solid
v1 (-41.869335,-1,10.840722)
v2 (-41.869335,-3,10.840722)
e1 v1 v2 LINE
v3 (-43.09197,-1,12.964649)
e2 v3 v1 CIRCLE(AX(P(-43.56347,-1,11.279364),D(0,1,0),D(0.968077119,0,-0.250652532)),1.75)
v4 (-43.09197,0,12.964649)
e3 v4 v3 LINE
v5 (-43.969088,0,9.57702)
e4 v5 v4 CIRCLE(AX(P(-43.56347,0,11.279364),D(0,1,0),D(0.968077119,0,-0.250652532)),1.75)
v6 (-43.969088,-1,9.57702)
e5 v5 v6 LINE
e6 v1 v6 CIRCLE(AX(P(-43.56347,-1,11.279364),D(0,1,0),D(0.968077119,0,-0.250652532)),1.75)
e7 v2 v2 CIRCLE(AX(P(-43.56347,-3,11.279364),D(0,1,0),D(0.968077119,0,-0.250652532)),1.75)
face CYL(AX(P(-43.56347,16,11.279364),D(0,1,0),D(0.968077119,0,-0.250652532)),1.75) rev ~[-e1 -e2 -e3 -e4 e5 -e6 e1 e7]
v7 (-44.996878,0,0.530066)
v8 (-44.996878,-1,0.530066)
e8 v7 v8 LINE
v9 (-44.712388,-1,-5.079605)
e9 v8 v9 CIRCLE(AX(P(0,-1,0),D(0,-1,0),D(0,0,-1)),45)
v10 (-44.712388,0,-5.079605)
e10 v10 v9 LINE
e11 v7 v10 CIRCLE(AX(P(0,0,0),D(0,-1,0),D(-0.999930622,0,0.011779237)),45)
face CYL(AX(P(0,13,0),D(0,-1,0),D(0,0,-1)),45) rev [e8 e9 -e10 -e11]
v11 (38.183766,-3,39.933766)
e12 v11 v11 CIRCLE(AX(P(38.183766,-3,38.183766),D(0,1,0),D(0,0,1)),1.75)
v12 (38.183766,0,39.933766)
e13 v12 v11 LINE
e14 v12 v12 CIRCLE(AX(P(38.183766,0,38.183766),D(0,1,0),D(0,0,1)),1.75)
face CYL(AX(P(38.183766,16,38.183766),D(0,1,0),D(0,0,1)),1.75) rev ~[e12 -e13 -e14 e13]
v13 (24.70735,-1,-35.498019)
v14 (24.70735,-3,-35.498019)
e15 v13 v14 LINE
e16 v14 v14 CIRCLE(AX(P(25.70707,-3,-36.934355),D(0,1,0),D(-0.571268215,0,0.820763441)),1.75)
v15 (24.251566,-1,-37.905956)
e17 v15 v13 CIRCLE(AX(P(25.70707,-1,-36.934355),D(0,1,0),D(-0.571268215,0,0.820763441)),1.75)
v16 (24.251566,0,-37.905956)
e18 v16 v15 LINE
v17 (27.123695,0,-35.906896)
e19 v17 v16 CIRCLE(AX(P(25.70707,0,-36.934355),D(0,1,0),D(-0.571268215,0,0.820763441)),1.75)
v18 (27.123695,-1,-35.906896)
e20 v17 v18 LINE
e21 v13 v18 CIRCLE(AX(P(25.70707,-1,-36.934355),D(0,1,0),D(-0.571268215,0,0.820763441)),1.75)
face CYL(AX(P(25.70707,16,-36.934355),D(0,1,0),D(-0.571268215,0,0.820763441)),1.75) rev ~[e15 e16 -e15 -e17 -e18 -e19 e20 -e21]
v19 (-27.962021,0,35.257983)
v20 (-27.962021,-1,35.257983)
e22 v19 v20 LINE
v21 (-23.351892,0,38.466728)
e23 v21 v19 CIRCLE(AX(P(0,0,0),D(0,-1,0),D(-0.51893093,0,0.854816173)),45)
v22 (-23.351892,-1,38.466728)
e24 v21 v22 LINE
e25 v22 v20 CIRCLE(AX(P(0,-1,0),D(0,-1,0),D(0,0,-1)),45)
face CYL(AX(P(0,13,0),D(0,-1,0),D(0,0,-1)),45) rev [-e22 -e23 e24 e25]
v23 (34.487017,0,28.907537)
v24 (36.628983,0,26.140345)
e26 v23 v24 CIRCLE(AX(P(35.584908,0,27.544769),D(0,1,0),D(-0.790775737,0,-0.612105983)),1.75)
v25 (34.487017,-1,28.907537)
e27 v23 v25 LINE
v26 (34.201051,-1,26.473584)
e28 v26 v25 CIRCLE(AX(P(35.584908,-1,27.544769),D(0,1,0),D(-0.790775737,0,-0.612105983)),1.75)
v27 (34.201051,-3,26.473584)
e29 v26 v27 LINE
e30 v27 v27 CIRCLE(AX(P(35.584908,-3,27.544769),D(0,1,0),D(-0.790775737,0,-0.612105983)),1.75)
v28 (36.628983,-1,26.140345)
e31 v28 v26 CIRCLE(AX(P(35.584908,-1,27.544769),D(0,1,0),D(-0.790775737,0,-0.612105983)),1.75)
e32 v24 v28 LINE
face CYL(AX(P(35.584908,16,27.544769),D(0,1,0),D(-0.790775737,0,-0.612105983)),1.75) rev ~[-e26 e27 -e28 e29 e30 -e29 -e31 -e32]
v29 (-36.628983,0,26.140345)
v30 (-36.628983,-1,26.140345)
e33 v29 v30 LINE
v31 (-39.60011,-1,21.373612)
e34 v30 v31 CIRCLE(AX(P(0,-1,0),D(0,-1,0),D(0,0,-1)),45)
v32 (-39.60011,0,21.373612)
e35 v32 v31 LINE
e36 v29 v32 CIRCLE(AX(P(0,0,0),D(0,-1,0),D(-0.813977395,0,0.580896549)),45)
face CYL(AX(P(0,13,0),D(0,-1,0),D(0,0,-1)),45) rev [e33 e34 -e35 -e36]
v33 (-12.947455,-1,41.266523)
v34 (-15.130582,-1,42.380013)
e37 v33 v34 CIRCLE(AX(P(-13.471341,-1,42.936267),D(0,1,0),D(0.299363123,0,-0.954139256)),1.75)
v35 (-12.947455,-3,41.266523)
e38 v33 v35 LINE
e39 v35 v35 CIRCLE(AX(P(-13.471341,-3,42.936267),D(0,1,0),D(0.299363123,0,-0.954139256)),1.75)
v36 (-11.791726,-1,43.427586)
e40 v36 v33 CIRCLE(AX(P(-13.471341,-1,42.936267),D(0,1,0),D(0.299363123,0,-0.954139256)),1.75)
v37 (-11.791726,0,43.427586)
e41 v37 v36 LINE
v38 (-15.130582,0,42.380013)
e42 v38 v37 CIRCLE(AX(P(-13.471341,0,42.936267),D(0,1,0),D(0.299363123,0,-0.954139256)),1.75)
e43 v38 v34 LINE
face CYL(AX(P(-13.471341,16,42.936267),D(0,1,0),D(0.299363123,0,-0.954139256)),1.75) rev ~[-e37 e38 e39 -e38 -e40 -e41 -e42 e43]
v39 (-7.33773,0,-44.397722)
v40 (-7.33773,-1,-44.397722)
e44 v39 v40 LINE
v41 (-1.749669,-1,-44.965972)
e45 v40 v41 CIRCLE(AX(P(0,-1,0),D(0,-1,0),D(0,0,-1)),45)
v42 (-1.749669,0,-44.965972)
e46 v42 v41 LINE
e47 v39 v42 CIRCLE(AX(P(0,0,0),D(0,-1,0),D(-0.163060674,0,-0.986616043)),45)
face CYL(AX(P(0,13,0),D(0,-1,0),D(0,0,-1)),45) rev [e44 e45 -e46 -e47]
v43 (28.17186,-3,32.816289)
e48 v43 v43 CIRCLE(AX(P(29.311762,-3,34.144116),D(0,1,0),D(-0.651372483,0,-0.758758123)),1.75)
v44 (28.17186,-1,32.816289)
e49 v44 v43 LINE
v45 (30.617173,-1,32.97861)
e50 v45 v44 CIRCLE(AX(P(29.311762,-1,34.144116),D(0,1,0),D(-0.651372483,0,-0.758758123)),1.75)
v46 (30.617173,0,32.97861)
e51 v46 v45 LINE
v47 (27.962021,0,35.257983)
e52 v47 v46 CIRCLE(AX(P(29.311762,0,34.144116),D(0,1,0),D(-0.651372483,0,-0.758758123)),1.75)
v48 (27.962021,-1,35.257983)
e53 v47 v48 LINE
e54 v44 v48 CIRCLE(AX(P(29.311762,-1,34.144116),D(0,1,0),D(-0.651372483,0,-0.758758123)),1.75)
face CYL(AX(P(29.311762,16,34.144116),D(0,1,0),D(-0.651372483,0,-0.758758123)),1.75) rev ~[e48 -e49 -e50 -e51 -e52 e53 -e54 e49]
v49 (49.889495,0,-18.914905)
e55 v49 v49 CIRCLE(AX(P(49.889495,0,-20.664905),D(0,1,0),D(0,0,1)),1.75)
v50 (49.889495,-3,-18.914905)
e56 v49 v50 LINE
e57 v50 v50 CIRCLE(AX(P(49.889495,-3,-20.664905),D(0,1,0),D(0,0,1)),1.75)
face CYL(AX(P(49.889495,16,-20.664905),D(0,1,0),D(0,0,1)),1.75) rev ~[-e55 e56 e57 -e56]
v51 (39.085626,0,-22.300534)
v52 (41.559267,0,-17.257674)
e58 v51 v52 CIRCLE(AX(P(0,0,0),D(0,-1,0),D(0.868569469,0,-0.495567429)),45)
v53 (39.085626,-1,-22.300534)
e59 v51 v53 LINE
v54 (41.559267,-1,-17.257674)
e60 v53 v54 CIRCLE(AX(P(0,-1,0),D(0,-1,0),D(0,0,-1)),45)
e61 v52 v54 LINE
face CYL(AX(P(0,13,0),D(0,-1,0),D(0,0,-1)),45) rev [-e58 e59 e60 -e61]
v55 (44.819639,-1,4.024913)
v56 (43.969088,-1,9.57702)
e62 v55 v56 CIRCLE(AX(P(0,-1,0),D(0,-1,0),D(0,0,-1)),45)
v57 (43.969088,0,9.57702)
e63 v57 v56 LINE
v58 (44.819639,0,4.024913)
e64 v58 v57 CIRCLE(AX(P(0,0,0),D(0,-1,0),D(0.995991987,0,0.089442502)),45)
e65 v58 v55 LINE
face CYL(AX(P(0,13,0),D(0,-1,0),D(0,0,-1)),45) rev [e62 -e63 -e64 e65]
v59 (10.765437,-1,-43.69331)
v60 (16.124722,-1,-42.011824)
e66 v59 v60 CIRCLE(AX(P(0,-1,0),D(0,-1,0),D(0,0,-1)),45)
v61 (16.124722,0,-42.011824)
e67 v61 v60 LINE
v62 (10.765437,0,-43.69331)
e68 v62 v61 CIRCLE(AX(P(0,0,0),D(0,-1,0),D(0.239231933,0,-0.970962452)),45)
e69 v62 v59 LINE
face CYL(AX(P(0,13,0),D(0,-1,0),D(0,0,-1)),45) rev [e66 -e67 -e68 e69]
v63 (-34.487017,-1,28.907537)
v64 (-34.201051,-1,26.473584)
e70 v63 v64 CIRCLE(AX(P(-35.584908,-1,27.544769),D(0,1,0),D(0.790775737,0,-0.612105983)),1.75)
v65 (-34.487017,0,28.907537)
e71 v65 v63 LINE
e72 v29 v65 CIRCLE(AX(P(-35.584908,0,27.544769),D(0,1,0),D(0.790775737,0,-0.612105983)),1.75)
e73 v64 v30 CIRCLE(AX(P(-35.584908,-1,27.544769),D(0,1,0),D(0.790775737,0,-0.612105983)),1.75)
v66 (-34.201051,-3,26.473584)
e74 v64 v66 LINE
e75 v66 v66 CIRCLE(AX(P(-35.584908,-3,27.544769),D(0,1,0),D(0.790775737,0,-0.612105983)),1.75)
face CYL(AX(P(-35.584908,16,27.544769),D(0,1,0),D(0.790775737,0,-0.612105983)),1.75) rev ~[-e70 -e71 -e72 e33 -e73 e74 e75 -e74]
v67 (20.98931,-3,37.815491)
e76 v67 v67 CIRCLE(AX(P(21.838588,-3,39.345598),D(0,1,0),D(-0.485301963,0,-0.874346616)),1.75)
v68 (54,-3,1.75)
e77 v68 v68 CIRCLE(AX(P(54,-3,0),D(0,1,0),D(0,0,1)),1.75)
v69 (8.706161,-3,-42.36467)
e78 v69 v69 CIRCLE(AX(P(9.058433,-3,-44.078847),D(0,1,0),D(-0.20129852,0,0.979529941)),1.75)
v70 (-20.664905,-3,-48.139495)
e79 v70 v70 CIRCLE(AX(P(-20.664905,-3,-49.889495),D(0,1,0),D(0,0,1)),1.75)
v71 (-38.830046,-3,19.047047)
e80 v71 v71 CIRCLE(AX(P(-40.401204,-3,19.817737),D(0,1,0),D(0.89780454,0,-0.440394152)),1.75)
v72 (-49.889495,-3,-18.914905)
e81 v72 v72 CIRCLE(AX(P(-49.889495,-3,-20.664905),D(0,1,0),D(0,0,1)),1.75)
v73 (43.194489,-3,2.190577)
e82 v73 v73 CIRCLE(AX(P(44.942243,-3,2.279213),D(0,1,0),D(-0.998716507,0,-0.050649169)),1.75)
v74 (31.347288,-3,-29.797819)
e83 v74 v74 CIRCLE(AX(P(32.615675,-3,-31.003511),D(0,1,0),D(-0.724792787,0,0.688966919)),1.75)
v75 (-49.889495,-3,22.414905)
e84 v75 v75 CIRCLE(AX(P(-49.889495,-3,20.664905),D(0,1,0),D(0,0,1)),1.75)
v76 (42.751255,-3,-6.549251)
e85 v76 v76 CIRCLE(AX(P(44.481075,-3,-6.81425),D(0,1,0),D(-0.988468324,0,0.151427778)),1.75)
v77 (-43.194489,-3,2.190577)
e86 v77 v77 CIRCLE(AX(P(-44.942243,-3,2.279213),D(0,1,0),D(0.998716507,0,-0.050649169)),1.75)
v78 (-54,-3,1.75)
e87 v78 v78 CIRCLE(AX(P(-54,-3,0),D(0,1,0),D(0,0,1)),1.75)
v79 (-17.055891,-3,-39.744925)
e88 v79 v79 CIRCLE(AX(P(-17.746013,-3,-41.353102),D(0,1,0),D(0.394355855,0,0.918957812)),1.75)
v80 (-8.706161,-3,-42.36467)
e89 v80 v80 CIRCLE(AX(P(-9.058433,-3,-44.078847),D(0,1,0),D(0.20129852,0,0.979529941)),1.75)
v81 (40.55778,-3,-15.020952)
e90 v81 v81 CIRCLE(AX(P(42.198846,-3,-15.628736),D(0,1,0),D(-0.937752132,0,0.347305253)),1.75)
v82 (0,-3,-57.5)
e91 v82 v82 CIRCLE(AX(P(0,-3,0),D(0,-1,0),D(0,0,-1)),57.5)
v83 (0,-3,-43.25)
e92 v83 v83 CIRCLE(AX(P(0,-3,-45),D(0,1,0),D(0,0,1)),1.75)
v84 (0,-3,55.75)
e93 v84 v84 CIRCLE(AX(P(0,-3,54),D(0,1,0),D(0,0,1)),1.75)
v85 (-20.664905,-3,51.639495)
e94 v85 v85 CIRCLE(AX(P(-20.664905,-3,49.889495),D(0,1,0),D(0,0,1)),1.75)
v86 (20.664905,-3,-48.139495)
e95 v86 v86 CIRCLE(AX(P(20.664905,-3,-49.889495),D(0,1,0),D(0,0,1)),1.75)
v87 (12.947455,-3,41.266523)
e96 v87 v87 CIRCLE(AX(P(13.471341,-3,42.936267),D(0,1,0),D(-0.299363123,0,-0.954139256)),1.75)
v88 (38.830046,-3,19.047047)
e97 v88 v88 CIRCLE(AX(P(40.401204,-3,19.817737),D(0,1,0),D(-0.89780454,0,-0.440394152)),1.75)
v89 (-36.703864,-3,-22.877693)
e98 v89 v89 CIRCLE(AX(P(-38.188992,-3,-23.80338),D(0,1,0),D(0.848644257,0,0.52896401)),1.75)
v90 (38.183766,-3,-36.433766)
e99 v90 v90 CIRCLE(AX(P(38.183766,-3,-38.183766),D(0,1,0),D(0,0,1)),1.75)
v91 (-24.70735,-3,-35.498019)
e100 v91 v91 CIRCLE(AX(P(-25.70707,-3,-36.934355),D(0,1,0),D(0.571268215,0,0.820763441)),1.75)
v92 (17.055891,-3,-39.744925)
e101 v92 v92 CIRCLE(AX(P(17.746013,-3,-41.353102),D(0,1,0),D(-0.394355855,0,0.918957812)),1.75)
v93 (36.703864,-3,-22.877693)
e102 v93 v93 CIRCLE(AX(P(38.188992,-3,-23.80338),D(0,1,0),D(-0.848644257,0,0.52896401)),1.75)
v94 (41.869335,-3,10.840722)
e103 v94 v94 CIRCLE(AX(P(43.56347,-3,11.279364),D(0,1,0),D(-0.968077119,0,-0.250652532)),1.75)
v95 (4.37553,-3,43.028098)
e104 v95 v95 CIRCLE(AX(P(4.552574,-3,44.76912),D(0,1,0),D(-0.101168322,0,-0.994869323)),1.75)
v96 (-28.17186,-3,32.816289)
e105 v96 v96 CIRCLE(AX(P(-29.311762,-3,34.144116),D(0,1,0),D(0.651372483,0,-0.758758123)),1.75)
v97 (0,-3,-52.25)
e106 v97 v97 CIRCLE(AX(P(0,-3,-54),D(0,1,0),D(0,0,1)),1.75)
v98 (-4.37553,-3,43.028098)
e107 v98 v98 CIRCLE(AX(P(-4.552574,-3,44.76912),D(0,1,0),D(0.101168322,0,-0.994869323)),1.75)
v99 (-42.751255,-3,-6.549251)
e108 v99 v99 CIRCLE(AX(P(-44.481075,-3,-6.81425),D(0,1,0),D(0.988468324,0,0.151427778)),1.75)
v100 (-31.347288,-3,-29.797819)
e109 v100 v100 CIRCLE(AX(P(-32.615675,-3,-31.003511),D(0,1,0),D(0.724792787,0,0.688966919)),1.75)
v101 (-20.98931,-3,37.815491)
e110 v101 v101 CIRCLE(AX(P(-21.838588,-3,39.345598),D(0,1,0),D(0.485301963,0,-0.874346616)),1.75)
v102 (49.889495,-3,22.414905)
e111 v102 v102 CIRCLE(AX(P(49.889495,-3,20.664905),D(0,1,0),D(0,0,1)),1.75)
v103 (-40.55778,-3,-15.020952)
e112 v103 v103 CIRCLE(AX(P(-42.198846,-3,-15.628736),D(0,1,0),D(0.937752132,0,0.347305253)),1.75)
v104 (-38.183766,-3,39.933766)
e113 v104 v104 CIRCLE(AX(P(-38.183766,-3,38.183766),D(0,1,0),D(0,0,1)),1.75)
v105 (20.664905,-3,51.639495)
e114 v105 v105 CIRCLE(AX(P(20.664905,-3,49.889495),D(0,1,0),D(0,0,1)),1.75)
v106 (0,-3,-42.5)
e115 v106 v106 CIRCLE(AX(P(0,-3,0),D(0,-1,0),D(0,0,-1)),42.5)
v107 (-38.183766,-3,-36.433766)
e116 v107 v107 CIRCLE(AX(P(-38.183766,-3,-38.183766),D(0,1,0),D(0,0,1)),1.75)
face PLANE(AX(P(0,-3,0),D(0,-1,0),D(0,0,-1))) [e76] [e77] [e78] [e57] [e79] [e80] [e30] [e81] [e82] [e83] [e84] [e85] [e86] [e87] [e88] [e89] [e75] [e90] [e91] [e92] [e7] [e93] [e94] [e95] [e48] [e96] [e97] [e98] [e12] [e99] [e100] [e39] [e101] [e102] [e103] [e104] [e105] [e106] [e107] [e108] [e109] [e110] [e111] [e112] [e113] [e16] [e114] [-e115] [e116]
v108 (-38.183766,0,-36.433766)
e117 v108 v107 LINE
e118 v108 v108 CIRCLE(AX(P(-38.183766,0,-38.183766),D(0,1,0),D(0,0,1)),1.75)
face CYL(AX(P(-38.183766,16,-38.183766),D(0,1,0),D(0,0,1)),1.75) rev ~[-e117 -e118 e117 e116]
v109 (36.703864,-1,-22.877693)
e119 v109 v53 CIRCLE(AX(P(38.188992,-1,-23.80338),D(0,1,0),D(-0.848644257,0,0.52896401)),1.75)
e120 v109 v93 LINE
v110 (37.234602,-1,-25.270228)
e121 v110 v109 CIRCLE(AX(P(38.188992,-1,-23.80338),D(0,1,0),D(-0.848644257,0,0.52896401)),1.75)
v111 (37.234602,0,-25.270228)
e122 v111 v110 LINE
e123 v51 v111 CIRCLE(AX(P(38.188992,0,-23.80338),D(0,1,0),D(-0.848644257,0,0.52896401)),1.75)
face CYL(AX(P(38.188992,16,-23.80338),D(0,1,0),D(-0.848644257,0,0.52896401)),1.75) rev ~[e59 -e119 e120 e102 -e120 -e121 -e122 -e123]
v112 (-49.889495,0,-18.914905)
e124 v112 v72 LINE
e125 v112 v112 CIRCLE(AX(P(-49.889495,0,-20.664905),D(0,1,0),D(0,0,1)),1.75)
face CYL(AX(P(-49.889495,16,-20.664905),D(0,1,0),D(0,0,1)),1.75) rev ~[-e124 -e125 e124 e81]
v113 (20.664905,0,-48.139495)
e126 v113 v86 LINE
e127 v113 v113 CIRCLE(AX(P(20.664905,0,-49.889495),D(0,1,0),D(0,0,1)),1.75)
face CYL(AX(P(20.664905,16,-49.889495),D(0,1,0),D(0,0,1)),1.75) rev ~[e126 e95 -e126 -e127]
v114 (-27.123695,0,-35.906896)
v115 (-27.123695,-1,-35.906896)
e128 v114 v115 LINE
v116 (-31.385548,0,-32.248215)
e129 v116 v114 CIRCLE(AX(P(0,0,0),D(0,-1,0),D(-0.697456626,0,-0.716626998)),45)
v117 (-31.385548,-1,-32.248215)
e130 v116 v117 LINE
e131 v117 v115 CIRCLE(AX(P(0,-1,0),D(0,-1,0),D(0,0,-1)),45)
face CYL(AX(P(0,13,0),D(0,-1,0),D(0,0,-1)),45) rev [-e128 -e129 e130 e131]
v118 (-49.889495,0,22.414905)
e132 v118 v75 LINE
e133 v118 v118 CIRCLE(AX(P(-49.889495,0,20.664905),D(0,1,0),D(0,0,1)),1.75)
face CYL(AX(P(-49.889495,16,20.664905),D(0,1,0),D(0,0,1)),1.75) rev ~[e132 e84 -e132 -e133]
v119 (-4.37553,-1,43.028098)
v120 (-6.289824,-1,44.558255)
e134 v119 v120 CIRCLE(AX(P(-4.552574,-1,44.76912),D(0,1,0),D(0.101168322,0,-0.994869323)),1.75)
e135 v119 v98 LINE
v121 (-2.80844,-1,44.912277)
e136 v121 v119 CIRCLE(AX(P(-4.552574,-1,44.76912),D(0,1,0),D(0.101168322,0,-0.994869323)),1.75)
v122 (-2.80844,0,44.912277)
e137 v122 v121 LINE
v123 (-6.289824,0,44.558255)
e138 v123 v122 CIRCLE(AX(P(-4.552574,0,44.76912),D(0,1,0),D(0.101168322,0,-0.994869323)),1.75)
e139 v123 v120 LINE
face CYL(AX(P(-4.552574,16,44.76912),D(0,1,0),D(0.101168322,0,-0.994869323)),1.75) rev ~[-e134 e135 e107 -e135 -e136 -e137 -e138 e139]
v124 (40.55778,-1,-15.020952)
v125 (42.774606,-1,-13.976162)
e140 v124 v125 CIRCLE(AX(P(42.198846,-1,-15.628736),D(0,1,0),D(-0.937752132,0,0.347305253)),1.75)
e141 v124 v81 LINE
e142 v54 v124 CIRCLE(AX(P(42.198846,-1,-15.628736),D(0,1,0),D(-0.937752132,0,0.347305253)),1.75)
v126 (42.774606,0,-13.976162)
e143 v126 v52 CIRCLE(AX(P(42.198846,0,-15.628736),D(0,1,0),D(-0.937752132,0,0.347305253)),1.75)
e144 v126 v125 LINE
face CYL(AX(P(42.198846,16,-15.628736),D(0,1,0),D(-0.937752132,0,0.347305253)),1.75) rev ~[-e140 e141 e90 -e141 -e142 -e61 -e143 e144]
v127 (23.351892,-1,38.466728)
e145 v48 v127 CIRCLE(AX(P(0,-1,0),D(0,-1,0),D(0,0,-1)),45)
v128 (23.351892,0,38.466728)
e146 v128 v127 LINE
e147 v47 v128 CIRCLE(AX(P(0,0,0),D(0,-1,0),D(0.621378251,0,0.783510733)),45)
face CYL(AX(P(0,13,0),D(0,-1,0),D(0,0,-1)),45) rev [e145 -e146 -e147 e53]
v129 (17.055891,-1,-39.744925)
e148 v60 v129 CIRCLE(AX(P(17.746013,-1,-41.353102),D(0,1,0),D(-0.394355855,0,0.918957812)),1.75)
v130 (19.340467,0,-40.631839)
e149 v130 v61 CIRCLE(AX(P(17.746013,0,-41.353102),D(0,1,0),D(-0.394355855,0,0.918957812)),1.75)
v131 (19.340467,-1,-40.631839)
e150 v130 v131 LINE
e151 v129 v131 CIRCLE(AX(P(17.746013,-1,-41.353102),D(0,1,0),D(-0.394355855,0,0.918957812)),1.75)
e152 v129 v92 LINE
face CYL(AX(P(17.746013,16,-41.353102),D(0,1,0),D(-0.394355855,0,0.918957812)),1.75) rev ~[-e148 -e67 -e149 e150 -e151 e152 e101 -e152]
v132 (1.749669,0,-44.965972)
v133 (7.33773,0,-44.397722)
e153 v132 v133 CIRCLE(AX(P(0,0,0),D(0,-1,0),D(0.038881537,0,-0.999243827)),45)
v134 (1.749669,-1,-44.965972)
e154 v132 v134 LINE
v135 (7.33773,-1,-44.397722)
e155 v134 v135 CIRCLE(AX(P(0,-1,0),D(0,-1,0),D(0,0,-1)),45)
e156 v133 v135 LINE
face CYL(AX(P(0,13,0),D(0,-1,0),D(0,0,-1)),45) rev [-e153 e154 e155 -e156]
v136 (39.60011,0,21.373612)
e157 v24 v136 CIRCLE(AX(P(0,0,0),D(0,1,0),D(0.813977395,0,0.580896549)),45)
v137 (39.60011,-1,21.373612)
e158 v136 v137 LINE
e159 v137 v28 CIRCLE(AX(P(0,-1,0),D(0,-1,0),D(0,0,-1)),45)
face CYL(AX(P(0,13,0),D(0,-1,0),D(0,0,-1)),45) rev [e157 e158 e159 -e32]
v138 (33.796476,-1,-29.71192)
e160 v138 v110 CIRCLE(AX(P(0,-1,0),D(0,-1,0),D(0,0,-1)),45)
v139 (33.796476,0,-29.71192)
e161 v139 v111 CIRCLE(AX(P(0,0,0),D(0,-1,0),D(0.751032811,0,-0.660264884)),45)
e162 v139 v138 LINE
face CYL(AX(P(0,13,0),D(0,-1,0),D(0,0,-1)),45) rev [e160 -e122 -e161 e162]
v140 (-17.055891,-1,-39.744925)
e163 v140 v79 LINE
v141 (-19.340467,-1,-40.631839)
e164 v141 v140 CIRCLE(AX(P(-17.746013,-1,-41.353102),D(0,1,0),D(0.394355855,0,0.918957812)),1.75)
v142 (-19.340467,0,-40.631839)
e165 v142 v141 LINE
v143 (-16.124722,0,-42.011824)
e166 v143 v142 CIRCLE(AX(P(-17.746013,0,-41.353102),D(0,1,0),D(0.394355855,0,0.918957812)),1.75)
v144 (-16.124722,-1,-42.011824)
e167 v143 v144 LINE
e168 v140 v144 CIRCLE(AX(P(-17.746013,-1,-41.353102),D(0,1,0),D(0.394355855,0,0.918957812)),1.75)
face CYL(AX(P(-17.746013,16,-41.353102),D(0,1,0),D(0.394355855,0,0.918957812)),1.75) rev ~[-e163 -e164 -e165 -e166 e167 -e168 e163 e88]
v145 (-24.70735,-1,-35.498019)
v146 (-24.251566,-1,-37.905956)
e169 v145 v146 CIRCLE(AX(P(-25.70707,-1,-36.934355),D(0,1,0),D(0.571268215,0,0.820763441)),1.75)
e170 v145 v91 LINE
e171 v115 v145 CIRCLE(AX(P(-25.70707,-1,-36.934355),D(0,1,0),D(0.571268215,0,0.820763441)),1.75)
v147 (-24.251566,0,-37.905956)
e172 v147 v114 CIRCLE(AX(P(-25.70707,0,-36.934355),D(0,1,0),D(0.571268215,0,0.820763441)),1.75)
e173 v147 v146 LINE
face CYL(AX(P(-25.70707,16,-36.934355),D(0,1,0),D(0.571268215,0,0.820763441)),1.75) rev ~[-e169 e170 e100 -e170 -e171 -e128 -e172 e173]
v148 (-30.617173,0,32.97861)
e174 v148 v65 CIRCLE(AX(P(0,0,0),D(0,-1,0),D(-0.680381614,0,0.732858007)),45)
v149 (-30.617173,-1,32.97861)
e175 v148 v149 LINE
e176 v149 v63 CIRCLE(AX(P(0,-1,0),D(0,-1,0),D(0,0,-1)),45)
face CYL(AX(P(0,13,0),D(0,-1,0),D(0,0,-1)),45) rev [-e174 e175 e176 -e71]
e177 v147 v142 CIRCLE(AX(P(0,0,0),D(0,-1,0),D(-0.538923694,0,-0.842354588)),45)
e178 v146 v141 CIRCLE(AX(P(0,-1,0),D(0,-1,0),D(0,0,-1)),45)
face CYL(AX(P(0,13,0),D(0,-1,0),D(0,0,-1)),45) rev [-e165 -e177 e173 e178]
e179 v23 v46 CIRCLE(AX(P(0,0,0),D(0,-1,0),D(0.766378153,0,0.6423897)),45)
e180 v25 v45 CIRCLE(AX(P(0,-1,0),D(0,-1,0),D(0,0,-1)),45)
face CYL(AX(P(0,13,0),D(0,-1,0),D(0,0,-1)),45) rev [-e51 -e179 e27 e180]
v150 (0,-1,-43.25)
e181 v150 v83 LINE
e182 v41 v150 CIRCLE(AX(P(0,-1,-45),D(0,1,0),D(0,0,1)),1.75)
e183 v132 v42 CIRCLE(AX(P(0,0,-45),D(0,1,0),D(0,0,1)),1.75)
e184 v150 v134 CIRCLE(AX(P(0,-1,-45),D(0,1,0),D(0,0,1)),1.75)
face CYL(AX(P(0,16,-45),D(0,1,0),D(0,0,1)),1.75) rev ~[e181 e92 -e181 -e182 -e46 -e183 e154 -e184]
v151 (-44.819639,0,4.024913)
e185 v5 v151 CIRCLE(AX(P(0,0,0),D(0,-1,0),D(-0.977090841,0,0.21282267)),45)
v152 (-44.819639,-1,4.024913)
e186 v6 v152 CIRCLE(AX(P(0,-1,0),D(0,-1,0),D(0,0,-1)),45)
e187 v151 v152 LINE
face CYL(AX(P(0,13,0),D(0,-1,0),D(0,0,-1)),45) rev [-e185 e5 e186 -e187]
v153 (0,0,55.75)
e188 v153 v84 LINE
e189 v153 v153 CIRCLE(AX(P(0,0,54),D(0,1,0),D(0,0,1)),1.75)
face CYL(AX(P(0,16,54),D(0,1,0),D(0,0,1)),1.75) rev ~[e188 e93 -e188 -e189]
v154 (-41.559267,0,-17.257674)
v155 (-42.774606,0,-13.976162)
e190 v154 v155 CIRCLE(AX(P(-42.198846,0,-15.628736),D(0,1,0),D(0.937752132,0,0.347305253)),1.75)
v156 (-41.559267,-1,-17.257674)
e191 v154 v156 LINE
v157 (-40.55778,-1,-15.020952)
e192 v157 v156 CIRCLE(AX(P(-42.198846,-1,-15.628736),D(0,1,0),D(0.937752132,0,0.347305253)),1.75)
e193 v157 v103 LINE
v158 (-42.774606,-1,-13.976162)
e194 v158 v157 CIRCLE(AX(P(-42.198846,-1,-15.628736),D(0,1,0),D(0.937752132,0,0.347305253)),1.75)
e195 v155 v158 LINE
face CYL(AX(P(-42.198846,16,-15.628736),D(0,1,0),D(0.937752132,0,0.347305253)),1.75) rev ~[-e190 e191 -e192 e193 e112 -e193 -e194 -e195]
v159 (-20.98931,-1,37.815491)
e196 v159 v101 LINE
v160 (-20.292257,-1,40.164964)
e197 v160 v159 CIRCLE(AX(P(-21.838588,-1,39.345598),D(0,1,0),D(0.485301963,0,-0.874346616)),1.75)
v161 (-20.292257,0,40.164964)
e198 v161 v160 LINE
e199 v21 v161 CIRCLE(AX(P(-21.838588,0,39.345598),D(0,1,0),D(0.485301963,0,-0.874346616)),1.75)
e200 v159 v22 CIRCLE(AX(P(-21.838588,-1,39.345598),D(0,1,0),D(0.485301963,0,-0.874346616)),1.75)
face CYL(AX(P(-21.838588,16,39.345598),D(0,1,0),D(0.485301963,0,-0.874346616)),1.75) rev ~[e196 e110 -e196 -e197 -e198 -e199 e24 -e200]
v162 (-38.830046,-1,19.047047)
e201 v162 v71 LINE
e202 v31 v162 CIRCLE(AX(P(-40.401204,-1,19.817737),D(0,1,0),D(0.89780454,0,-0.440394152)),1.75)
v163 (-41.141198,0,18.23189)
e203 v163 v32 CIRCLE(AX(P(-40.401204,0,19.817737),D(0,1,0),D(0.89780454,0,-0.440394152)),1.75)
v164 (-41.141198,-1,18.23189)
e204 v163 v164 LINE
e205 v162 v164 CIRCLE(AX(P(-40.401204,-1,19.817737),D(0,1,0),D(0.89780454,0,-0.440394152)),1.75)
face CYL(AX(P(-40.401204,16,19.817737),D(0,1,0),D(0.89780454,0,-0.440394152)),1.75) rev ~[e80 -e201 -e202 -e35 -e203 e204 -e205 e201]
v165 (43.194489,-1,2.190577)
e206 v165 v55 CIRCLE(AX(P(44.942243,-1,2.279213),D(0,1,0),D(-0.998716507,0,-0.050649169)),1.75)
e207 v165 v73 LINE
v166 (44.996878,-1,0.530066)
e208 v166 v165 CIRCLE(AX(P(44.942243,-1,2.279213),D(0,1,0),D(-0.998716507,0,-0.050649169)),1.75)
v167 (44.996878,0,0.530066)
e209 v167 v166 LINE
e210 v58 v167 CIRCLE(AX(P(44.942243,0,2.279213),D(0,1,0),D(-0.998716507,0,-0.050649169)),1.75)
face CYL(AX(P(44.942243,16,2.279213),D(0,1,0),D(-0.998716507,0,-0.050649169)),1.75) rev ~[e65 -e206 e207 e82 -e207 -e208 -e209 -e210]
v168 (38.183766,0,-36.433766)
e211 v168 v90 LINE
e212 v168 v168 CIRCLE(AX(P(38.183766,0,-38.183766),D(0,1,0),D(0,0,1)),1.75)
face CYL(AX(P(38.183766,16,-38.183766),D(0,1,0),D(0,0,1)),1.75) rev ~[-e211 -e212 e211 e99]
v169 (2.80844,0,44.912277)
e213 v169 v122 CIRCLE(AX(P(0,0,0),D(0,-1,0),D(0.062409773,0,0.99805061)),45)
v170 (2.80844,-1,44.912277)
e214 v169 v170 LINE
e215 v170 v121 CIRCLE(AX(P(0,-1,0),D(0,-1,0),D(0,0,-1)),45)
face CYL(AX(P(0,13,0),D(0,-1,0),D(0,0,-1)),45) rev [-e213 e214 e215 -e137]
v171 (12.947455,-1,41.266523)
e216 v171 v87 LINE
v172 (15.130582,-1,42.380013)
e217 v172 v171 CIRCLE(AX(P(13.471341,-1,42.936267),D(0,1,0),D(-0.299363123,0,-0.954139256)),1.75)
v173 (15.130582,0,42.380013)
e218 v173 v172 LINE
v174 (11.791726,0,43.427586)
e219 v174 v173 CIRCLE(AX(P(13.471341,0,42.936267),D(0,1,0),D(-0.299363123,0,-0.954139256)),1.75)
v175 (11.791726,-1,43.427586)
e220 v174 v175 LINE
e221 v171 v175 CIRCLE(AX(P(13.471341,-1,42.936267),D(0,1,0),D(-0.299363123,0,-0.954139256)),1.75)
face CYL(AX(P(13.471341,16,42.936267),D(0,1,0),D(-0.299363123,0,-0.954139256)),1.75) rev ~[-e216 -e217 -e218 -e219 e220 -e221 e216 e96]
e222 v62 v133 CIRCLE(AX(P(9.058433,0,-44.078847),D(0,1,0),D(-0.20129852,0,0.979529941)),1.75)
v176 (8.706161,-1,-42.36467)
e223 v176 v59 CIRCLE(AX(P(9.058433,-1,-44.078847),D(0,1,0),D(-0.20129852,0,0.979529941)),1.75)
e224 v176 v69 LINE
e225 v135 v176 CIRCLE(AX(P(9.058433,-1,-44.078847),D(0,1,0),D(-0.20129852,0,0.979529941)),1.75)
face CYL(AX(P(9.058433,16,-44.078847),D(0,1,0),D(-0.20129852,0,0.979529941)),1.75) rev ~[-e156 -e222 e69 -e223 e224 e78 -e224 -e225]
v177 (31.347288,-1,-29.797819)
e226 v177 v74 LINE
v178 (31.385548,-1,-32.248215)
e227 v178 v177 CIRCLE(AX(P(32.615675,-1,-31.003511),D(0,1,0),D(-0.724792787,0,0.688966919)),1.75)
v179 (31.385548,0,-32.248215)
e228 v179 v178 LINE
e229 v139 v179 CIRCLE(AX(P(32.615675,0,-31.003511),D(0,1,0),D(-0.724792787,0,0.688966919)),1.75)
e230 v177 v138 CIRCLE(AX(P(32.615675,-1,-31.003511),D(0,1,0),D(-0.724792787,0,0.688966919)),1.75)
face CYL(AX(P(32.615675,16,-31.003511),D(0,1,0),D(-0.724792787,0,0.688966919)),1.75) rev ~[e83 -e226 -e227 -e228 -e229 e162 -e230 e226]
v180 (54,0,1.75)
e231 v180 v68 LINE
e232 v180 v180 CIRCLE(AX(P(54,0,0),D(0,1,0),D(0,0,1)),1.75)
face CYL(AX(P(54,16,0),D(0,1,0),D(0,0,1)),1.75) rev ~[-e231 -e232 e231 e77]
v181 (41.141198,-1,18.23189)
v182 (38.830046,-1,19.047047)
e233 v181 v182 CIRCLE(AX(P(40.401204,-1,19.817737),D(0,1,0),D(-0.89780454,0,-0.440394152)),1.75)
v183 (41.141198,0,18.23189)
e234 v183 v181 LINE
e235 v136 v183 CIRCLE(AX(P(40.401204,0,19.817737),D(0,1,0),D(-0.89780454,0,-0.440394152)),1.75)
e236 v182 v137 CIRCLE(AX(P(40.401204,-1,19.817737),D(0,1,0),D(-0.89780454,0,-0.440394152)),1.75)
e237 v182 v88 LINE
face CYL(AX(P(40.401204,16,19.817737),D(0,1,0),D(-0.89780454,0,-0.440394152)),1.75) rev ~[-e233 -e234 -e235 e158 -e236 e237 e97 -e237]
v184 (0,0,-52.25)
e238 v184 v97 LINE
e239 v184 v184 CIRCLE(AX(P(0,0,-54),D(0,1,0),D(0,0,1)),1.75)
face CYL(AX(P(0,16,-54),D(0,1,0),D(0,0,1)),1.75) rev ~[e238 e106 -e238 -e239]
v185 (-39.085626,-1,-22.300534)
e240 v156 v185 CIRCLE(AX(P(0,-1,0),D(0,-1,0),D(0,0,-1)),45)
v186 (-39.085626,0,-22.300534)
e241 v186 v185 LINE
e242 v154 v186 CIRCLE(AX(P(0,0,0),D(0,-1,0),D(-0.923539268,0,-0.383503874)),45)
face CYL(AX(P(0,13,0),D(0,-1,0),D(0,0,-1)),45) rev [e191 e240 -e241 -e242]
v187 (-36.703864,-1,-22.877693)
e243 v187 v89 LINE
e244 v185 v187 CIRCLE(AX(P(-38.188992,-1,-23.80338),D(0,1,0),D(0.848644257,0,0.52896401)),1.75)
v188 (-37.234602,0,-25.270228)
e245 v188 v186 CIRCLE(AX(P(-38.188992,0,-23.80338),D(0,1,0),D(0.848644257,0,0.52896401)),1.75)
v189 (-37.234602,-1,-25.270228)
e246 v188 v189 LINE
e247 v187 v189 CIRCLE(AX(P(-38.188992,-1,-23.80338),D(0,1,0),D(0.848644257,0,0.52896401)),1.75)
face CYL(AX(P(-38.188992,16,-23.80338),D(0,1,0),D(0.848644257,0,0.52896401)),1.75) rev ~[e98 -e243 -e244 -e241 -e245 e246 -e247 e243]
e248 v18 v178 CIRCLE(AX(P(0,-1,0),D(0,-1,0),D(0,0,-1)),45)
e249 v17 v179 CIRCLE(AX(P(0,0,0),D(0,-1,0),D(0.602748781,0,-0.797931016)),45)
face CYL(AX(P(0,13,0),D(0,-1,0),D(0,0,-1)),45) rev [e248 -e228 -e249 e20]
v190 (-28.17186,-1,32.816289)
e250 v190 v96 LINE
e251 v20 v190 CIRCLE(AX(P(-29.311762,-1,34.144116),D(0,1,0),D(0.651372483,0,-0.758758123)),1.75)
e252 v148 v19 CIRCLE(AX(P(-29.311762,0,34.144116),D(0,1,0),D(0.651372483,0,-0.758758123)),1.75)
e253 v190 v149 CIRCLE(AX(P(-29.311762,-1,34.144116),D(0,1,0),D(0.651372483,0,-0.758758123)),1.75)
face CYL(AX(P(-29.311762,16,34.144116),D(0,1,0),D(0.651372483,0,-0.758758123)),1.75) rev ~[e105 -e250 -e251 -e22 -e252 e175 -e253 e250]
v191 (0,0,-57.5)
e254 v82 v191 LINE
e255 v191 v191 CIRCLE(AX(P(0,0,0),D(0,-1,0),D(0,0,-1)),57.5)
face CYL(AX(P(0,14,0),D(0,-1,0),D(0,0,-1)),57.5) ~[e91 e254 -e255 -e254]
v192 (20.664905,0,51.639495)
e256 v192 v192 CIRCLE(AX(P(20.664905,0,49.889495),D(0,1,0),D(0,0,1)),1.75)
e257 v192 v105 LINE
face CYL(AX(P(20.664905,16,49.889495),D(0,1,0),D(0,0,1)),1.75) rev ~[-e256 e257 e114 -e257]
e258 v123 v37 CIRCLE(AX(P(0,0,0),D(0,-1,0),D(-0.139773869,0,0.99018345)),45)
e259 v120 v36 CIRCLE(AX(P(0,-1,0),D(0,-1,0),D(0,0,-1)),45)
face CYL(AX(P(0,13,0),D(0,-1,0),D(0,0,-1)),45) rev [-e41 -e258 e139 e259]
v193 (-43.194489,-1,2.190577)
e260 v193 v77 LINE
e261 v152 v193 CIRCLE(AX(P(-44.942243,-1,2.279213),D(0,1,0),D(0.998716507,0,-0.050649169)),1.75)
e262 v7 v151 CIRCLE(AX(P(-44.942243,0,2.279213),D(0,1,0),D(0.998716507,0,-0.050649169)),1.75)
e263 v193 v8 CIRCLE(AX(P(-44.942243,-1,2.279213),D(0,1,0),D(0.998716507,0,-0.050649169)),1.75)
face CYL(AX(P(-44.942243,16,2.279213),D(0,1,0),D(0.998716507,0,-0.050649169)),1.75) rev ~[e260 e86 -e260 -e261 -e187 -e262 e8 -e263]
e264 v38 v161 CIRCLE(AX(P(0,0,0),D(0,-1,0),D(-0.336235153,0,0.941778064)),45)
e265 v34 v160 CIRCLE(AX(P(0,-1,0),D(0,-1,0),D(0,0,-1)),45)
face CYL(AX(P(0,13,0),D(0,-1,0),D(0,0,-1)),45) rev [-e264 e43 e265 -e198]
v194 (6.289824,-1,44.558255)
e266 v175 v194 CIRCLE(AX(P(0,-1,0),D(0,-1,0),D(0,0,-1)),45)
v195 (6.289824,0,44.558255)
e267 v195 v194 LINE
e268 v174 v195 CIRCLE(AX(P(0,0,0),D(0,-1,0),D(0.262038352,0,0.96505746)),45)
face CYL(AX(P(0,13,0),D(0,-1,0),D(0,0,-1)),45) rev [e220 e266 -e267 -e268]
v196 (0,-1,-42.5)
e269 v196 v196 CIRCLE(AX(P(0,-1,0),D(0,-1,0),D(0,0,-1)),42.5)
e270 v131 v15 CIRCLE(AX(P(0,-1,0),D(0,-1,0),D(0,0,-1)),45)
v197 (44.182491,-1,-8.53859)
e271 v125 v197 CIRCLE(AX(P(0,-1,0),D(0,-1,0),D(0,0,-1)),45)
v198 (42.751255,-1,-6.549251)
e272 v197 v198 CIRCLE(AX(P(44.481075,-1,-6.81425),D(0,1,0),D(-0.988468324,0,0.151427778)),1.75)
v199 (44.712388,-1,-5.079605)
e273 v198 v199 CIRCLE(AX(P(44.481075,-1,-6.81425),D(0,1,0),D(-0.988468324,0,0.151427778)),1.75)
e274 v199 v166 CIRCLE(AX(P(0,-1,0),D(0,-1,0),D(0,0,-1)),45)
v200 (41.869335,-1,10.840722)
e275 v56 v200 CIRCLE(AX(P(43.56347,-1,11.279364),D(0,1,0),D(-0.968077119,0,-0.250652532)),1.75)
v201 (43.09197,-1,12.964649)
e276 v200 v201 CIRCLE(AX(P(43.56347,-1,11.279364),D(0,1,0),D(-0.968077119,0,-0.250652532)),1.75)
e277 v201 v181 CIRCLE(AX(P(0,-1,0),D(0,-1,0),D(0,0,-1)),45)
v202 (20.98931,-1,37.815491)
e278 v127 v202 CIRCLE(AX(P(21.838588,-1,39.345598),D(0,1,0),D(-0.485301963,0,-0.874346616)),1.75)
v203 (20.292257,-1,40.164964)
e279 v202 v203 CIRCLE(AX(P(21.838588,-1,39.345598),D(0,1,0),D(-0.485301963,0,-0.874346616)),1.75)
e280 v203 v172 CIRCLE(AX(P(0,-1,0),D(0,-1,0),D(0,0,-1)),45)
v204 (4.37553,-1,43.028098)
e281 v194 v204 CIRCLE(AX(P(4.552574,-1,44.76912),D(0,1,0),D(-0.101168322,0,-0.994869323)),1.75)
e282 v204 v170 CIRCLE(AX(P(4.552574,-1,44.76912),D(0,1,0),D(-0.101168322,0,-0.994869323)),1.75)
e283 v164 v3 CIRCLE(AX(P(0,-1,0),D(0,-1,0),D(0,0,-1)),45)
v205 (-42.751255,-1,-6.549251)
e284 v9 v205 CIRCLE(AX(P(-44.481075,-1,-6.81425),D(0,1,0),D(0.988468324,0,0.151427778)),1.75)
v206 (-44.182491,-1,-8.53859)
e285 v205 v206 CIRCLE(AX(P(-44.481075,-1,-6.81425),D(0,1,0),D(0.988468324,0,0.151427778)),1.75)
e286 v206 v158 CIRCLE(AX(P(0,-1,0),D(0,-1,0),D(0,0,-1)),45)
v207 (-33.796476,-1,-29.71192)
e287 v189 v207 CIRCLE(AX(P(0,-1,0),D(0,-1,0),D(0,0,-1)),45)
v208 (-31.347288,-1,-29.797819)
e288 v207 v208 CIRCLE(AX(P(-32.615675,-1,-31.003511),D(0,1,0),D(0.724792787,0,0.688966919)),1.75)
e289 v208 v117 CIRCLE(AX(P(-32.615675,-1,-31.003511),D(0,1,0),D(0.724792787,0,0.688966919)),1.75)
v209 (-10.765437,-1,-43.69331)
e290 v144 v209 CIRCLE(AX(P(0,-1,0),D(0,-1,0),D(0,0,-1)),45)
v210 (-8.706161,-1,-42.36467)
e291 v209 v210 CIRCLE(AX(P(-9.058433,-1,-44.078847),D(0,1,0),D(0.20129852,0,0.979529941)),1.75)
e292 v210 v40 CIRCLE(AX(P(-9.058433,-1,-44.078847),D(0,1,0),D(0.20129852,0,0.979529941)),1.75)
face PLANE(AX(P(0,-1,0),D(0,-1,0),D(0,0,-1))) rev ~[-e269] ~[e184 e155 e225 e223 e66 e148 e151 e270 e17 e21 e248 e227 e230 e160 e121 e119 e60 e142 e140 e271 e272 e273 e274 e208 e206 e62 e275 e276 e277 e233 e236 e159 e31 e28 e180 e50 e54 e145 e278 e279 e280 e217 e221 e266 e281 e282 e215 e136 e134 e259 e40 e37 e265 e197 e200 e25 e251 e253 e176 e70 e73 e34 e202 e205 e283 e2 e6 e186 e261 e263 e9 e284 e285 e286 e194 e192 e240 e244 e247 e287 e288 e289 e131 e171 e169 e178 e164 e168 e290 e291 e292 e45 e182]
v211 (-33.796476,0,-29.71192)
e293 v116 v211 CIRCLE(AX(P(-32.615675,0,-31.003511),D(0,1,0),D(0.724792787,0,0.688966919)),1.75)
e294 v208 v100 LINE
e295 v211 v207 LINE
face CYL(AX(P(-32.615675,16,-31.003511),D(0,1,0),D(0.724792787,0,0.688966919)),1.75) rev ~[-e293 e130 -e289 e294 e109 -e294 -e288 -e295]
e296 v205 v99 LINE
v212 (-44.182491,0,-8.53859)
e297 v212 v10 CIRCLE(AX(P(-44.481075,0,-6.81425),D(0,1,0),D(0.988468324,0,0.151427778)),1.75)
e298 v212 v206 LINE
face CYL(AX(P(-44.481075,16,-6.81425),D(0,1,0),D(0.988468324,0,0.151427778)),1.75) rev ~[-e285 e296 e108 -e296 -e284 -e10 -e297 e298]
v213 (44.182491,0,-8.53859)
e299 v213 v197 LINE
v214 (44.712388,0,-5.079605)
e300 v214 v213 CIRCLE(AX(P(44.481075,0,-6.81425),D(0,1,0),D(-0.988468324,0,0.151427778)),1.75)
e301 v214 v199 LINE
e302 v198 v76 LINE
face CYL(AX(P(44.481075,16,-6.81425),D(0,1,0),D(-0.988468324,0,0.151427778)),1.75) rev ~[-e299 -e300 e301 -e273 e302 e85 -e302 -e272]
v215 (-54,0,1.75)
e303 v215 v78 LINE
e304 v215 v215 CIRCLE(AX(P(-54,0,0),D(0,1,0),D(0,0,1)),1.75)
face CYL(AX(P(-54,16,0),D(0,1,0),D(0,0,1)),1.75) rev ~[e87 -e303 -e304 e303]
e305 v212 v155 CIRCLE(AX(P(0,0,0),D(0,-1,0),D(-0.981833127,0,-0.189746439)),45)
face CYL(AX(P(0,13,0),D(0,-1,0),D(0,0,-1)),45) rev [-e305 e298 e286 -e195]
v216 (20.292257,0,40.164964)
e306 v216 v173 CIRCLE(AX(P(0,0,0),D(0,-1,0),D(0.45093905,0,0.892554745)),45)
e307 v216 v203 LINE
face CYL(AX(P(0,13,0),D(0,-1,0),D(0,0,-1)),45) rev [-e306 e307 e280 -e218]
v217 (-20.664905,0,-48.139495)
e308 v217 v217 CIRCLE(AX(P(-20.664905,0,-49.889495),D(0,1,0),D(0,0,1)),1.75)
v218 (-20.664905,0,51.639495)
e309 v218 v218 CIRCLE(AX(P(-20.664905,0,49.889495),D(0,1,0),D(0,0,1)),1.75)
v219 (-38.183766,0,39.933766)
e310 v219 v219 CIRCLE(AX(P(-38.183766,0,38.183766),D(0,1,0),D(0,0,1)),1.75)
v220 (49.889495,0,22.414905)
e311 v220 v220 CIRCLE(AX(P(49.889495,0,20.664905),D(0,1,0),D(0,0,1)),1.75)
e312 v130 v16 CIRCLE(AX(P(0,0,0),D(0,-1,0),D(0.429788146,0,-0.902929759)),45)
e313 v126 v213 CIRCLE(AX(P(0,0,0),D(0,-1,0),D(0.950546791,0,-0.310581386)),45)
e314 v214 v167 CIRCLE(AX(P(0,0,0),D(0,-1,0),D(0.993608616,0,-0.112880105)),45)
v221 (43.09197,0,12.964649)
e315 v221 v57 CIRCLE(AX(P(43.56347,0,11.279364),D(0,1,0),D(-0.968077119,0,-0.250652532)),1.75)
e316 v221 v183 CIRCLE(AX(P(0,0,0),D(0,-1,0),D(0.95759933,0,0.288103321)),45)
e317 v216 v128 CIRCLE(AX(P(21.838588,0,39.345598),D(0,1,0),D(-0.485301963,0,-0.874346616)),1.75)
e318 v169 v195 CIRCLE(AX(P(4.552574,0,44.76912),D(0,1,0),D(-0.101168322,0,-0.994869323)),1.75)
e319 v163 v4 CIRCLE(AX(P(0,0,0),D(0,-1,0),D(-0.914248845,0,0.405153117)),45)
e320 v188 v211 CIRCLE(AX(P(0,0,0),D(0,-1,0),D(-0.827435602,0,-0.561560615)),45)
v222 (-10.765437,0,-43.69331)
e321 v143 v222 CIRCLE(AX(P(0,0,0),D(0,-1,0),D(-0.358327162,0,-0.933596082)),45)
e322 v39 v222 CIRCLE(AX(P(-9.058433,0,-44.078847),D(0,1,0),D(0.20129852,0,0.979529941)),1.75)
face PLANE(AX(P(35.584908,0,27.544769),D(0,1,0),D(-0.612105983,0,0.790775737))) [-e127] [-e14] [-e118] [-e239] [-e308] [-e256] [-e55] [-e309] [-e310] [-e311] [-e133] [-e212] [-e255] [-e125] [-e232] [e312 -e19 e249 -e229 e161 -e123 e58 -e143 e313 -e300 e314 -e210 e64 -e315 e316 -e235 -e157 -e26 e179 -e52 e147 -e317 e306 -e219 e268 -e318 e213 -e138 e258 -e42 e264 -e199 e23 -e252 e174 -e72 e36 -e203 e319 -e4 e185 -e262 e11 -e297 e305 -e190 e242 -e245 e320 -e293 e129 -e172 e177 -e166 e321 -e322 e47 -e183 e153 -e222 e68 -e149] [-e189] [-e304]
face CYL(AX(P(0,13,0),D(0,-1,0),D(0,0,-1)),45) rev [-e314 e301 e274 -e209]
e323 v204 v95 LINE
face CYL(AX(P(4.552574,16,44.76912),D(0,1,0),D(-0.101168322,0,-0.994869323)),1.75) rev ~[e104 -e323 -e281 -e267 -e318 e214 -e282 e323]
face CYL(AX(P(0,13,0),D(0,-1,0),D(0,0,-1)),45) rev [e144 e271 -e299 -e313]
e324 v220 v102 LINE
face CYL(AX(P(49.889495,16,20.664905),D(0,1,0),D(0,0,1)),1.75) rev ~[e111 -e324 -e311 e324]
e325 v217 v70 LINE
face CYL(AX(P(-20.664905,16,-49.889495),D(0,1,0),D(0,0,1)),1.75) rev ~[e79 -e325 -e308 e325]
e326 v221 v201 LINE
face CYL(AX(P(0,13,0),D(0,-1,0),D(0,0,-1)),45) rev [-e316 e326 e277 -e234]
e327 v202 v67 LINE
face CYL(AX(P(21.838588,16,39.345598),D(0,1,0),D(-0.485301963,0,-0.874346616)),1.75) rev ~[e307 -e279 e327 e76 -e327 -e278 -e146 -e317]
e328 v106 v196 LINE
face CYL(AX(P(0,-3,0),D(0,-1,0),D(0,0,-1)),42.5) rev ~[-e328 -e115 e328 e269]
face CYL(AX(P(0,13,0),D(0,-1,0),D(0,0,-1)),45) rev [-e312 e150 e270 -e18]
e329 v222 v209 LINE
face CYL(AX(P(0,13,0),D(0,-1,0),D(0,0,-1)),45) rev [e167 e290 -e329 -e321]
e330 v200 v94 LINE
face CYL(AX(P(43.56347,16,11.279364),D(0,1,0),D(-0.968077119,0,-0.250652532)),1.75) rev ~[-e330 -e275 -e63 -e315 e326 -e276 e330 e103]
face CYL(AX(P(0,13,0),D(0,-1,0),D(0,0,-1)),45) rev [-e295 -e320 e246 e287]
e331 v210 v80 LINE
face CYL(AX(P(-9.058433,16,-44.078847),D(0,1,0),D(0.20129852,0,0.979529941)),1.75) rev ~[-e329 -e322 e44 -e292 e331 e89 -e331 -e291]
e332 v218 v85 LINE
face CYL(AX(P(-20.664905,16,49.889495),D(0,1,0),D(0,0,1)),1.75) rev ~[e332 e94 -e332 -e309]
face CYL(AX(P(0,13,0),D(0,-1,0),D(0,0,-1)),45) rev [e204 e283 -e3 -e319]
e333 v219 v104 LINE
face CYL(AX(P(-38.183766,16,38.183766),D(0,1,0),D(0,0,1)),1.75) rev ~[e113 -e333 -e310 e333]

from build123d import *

# Parameters (mm, degrees)
SKETCH1_R                = 57.5
SKETCH1_R_2              = 45
BOSS_EXTRUDE1_DEPTH      = 13
BOSS_EXTRUDE2_START      = 1
SKETCH2_R                = 57.5
SKETCH2_R_2              = 45
BOSS_EXTRUDE2_DEPTH      = 1
BOSS_EXTRUDE3_START      = 2
SKETCH3_R                = 57.5
SKETCH3_R_2              = 42.5
BOSS_EXTRUDE3_DEPTH      = 2
SKETCH5_R                = 3
CUT_EXTRUDE2_DEPTH       = 13
FILLET4_R                = 0.5
SKETCH10_R               = 57.5
SKETCH10_R_2             = 45
BOSS_EXTRUDE4_DEPTH      = 1
SKETCH11_R               = 57.5
SKETCH11_R_2             = 42.5
BOSS_EXTRUDE5_DEPTH      = 2
SKETCH7_R                = 1.75
CUT_EXTRUDE3_DEPTH       = 23
CIRPATTERN3_COUNT        = 31
FILLET4_OF_CIRPATTERN3_R = 0.5
SKETCH4_R                = 1.75
CUT_EXTRUDE1_DEPTH       = 51
SKETCH14_R               = 84.700123292
CUT_EXTRUDE4_DEPTH       = 54


with BuildPart() as part:
    # Sketch1 → Boss-Extrude1 (new body)
    with BuildSketch(Plane(origin=(0, 0, 0), x_dir=(1, 0, 0), z_dir=(0, 1, 0))):
        with Locations(Location((0, 0, 0), (0, 0, 90))):
            Circle(SKETCH1_R)
        with Locations(Location((0, 0, 0), (0, 0, 90))):
            Circle(SKETCH1_R_2, mode=Mode.SUBTRACT)
    extrude(amount=BOSS_EXTRUDE1_DEPTH)

    # Sketch2 → Boss-Extrude2 (add)
    with BuildSketch(Plane.XZ.offset(BOSS_EXTRUDE2_START)):
        with Locations(Location((0, 0, 0), (0, 0, 270))):
            Circle(SKETCH2_R)
        with Locations(Location((0, 0, 0), (0, 0, 270))):
            Circle(SKETCH2_R_2, mode=Mode.SUBTRACT)
    extrude(amount=-BOSS_EXTRUDE2_DEPTH)

    # Sketch3 → Boss-Extrude3 (add)
    with BuildSketch(Plane.XZ.offset(1).offset(BOSS_EXTRUDE3_START)):
        with Locations(Location((0, 0, 0), (0, 0, 270))):
            Circle(SKETCH3_R)
        with Locations(Location((0, 0, 0), (0, 0, 270))):
            Circle(SKETCH3_R_2, mode=Mode.SUBTRACT)
    extrude(amount=-BOSS_EXTRUDE3_DEPTH)

    # Sketch5 → Cut-Extrude2 (cut)
    with BuildSketch(Plane(origin=(0, 13, 0), x_dir=(1, 0, 0), z_dir=(0, 1, 0))):
        with Locations((0, 45)):
            Circle(SKETCH5_R)
    cut_extrude2 = extrude(amount=-CUT_EXTRUDE2_DEPTH, mode=Mode.SUBTRACT)

    # Fillet4
    fillet4_edges = [part.edges().sort_by_distance(p)[0] for p in [
        (2.99833287, 6.5, -44.9),
        (-2.99833287, 6.5, -44.9),
    ]]
    fillet(fillet4_edges, radius=FILLET4_R)

    # Sketch10 → Boss-Extrude4 (add)
    with BuildSketch(Plane(origin=(0, 13, 0), x_dir=(1, 0, 0), z_dir=(0, 1, 0))):
        with Locations(Location((0, 0, 0), (0, 0, 90))):
            Circle(SKETCH10_R)
        with Locations(Location((0, 0, 0), (0, 0, 90))):
            Circle(SKETCH10_R_2, mode=Mode.SUBTRACT)
    extrude(amount=BOSS_EXTRUDE4_DEPTH)

    # Sketch11 → Boss-Extrude5 (add)
    with BuildSketch(Plane(origin=(0, 14, 0), x_dir=(1, 0, 0), z_dir=(0, 1, 0))):
        with Locations(Location((0, 0, 0), (0, 0, 90))):
            Circle(SKETCH11_R)
        with Locations(Location((0, 0, 0), (0, 0, 90))):
            Circle(SKETCH11_R_2, mode=Mode.SUBTRACT)
    extrude(amount=BOSS_EXTRUDE5_DEPTH)

    # Sketch7 → Cut-Extrude3 (cut)
    with BuildSketch(Plane(origin=(0, 16, 0), x_dir=(1, 0, 0), z_dir=(0, 1, 0))):
        with Locations(Location((0, 45, 0), (0, 0, 270))):
            Circle(SKETCH7_R)
    cut_extrude3 = extrude(amount=-CUT_EXTRUDE3_DEPTH, mode=Mode.SUBTRACT)

    # CirPattern3: Cut-Extrude2, Cut-Extrude3 ×31 about axis
    cirpattern3_axis = Axis((0, 0, 0), (0, 1, 0))
    add([cut_extrude2.rotate(cirpattern3_axis, i * 360 / CIRPATTERN3_COUNT) for i in range(1, CIRPATTERN3_COUNT)], mode=Mode.SUBTRACT)
    add([cut_extrude3.rotate(cirpattern3_axis, i * 360 / CIRPATTERN3_COUNT) for i in range(1, CIRPATTERN3_COUNT)], mode=Mode.SUBTRACT)

    # Fillet4 of CirPattern3
    fillet4_of_cirpattern3_edges = [part.edges().sort_by_distance(p)[0] for p in [
        (-6.101346732, 6.5, -44.584454332),
        (-11.975260372, 6.5, -43.377334393),
        (-14.951236482, 6.5, -42.443615865),
        (-20.461919307, 6.5, -40.078795619),
        (-23.189020853, 6.5, -38.565130777),
        (-28.110864862, 6.5, -35.139426243),
        (-30.477443987, 6.5, -33.107784704),
        (-34.608948306, 6.5, -28.761444629),
        (-36.518116982, 6.5, -26.295002036),
        (-39.690137341, 6.5, -21.205966091),
        (-41.063733978, 6.5, -18.405698895),
        (-43.146407489, 6.5, -12.782312811),
        (-43.92819688, 6.5, -9.762864278),
        (-44.836258645, 6.5, -3.835350142),
        (-44.99423424, 6.5, -0.720336851),
        (-44.690508104, 6.5, 5.268632212),
        (-44.218202364, 6.5, 8.351681252),
        (-42.715122911, 6.5, 14.156916145),
        (-41.631872087, 6.5, 17.081780543),
        (-38.990975566, 6.5, 22.465614267),
        (-37.341128076, 6.5, 25.112549731),
        (-33.670533101, 6.5, 29.854567501),
        (-31.521633894, 6.5, 32.115208183),
        (-26.971615054, 6.5, 36.021271235),
        (-24.411640317, 6.5, 37.803066239),
        (-19.168475919, 6.5, 40.713259891),
        (-16.302231317, 6.5, 41.943262321),
        (-10.580577126, 6.5, 43.738442904),
        (-7.525407051, 6.5, 44.366296315),
        (-1.559508263, 6.5, 44.972968926),
        (1.559508263, 6.5, 44.972968926),
        (7.525407051, 6.5, 44.366296315),
        (10.580577126, 6.5, 43.738442904),
        (16.302231317, 6.5, 41.943262321),
        (19.168475919, 6.5, 40.713259891),
        (24.411640317, 6.5, 37.803066239),
        (26.971615054, 6.5, 36.021271235),
        (31.521633894, 6.5, 32.115208183),
        (33.670533101, 6.5, 29.854567501),
        (37.341128076, 6.5, 25.112549731),
        (38.990975566, 6.5, 22.465614267),
        (41.631872087, 6.5, 17.081780543),
        (42.715122911, 6.5, 14.156916145),
        (44.218202364, 6.5, 8.351681252),
        (44.690508104, 6.5, 5.268632212),
        (44.99423424, 6.5, -0.720336851),
        (44.836258645, 6.5, -3.835350142),
        (43.92819688, 6.5, -9.762864278),
        (43.146407489, 6.5, -12.782312811),
        (41.063733978, 6.5, -18.405698895),
        (39.690137341, 6.5, -21.205966091),
        (36.518116982, 6.5, -26.295002036),
        (34.608948306, 6.5, -28.761444629),
        (30.477443987, 6.5, -33.107784704),
        (28.110864862, 6.5, -35.139426243),
        (23.189020853, 6.5, -38.565130777),
        (20.461919307, 6.5, -40.078795619),
        (14.951236482, 6.5, -42.443615865),
        (11.975260372, 6.5, -43.377334393),
        (6.101346732, 6.5, -44.584454332),
    ]]
    fillet(fillet4_of_cirpattern3_edges, radius=FILLET4_OF_CIRPATTERN3_R)

    # Sketch4 → Cut-Extrude1 (cut)
    with BuildSketch(Plane(origin=(0, 16, 0), x_dir=(1, 0, 0), z_dir=(0, 1, 0))):
        with Locations(Location((0, 54, 0), (0, 0, 270))):
            Circle(SKETCH4_R)
        with Locations(Location((20.664905348, 49.889494756, 0), (0, 0, 270))):
            Circle(SKETCH4_R)
        with Locations(Location((38.183766184, 38.183766184, 0), (0, 0, 270))):
            Circle(SKETCH4_R)
        with Locations(Location((49.889494756, 20.664905348, 0), (0, 0, 270))):
            Circle(SKETCH4_R)
        with Locations(Location((54, 0, 0), (0, 0, 270))):
            Circle(SKETCH4_R)
        with Locations(Location((49.889494756, -20.664905348, 0), (0, 0, 270))):
            Circle(SKETCH4_R)
        with Locations(Location((38.183766184, -38.183766184, 0), (0, 0, 270))):
            Circle(SKETCH4_R)
        with Locations(Location((20.664905348, -49.889494756, 0), (0, 0, 270))):
            Circle(SKETCH4_R)
        with Locations(Location((0, -54, 0), (0, 0, 270))):
            Circle(SKETCH4_R)
        with Locations(Location((-20.664905348, -49.889494756, 0), (0, 0, 270))):
            Circle(SKETCH4_R)
        with Locations(Location((-38.183766184, -38.183766184, 0), (0, 0, 270))):
            Circle(SKETCH4_R)
        with Locations(Location((-49.889494756, -20.664905348, 0), (0, 0, 270))):
            Circle(SKETCH4_R)
        with Locations(Location((-54, 0, 0), (0, 0, 270))):
            Circle(SKETCH4_R)
        with Locations(Location((-49.889494756, 20.664905348, 0), (0, 0, 270))):
            Circle(SKETCH4_R)
        with Locations(Location((-38.183766184, 38.183766184, 0), (0, 0, 270))):
            Circle(SKETCH4_R)
        with Locations(Location((-20.664905348, 49.889494756, 0), (0, 0, 270))):
            Circle(SKETCH4_R)
    extrude(amount=-CUT_EXTRUDE1_DEPTH, mode=Mode.SUBTRACT)

    # Sketch14 → Cut-Extrude4 (cut)
    with BuildSketch(Plane(origin=(0, 0, 0), x_dir=(1, 0, 0), z_dir=(0, 1, 0))):
        Circle(SKETCH14_R)
    extrude(amount=CUT_EXTRUDE4_DEPTH, mode=Mode.SUBTRACT)


solid = part.part
